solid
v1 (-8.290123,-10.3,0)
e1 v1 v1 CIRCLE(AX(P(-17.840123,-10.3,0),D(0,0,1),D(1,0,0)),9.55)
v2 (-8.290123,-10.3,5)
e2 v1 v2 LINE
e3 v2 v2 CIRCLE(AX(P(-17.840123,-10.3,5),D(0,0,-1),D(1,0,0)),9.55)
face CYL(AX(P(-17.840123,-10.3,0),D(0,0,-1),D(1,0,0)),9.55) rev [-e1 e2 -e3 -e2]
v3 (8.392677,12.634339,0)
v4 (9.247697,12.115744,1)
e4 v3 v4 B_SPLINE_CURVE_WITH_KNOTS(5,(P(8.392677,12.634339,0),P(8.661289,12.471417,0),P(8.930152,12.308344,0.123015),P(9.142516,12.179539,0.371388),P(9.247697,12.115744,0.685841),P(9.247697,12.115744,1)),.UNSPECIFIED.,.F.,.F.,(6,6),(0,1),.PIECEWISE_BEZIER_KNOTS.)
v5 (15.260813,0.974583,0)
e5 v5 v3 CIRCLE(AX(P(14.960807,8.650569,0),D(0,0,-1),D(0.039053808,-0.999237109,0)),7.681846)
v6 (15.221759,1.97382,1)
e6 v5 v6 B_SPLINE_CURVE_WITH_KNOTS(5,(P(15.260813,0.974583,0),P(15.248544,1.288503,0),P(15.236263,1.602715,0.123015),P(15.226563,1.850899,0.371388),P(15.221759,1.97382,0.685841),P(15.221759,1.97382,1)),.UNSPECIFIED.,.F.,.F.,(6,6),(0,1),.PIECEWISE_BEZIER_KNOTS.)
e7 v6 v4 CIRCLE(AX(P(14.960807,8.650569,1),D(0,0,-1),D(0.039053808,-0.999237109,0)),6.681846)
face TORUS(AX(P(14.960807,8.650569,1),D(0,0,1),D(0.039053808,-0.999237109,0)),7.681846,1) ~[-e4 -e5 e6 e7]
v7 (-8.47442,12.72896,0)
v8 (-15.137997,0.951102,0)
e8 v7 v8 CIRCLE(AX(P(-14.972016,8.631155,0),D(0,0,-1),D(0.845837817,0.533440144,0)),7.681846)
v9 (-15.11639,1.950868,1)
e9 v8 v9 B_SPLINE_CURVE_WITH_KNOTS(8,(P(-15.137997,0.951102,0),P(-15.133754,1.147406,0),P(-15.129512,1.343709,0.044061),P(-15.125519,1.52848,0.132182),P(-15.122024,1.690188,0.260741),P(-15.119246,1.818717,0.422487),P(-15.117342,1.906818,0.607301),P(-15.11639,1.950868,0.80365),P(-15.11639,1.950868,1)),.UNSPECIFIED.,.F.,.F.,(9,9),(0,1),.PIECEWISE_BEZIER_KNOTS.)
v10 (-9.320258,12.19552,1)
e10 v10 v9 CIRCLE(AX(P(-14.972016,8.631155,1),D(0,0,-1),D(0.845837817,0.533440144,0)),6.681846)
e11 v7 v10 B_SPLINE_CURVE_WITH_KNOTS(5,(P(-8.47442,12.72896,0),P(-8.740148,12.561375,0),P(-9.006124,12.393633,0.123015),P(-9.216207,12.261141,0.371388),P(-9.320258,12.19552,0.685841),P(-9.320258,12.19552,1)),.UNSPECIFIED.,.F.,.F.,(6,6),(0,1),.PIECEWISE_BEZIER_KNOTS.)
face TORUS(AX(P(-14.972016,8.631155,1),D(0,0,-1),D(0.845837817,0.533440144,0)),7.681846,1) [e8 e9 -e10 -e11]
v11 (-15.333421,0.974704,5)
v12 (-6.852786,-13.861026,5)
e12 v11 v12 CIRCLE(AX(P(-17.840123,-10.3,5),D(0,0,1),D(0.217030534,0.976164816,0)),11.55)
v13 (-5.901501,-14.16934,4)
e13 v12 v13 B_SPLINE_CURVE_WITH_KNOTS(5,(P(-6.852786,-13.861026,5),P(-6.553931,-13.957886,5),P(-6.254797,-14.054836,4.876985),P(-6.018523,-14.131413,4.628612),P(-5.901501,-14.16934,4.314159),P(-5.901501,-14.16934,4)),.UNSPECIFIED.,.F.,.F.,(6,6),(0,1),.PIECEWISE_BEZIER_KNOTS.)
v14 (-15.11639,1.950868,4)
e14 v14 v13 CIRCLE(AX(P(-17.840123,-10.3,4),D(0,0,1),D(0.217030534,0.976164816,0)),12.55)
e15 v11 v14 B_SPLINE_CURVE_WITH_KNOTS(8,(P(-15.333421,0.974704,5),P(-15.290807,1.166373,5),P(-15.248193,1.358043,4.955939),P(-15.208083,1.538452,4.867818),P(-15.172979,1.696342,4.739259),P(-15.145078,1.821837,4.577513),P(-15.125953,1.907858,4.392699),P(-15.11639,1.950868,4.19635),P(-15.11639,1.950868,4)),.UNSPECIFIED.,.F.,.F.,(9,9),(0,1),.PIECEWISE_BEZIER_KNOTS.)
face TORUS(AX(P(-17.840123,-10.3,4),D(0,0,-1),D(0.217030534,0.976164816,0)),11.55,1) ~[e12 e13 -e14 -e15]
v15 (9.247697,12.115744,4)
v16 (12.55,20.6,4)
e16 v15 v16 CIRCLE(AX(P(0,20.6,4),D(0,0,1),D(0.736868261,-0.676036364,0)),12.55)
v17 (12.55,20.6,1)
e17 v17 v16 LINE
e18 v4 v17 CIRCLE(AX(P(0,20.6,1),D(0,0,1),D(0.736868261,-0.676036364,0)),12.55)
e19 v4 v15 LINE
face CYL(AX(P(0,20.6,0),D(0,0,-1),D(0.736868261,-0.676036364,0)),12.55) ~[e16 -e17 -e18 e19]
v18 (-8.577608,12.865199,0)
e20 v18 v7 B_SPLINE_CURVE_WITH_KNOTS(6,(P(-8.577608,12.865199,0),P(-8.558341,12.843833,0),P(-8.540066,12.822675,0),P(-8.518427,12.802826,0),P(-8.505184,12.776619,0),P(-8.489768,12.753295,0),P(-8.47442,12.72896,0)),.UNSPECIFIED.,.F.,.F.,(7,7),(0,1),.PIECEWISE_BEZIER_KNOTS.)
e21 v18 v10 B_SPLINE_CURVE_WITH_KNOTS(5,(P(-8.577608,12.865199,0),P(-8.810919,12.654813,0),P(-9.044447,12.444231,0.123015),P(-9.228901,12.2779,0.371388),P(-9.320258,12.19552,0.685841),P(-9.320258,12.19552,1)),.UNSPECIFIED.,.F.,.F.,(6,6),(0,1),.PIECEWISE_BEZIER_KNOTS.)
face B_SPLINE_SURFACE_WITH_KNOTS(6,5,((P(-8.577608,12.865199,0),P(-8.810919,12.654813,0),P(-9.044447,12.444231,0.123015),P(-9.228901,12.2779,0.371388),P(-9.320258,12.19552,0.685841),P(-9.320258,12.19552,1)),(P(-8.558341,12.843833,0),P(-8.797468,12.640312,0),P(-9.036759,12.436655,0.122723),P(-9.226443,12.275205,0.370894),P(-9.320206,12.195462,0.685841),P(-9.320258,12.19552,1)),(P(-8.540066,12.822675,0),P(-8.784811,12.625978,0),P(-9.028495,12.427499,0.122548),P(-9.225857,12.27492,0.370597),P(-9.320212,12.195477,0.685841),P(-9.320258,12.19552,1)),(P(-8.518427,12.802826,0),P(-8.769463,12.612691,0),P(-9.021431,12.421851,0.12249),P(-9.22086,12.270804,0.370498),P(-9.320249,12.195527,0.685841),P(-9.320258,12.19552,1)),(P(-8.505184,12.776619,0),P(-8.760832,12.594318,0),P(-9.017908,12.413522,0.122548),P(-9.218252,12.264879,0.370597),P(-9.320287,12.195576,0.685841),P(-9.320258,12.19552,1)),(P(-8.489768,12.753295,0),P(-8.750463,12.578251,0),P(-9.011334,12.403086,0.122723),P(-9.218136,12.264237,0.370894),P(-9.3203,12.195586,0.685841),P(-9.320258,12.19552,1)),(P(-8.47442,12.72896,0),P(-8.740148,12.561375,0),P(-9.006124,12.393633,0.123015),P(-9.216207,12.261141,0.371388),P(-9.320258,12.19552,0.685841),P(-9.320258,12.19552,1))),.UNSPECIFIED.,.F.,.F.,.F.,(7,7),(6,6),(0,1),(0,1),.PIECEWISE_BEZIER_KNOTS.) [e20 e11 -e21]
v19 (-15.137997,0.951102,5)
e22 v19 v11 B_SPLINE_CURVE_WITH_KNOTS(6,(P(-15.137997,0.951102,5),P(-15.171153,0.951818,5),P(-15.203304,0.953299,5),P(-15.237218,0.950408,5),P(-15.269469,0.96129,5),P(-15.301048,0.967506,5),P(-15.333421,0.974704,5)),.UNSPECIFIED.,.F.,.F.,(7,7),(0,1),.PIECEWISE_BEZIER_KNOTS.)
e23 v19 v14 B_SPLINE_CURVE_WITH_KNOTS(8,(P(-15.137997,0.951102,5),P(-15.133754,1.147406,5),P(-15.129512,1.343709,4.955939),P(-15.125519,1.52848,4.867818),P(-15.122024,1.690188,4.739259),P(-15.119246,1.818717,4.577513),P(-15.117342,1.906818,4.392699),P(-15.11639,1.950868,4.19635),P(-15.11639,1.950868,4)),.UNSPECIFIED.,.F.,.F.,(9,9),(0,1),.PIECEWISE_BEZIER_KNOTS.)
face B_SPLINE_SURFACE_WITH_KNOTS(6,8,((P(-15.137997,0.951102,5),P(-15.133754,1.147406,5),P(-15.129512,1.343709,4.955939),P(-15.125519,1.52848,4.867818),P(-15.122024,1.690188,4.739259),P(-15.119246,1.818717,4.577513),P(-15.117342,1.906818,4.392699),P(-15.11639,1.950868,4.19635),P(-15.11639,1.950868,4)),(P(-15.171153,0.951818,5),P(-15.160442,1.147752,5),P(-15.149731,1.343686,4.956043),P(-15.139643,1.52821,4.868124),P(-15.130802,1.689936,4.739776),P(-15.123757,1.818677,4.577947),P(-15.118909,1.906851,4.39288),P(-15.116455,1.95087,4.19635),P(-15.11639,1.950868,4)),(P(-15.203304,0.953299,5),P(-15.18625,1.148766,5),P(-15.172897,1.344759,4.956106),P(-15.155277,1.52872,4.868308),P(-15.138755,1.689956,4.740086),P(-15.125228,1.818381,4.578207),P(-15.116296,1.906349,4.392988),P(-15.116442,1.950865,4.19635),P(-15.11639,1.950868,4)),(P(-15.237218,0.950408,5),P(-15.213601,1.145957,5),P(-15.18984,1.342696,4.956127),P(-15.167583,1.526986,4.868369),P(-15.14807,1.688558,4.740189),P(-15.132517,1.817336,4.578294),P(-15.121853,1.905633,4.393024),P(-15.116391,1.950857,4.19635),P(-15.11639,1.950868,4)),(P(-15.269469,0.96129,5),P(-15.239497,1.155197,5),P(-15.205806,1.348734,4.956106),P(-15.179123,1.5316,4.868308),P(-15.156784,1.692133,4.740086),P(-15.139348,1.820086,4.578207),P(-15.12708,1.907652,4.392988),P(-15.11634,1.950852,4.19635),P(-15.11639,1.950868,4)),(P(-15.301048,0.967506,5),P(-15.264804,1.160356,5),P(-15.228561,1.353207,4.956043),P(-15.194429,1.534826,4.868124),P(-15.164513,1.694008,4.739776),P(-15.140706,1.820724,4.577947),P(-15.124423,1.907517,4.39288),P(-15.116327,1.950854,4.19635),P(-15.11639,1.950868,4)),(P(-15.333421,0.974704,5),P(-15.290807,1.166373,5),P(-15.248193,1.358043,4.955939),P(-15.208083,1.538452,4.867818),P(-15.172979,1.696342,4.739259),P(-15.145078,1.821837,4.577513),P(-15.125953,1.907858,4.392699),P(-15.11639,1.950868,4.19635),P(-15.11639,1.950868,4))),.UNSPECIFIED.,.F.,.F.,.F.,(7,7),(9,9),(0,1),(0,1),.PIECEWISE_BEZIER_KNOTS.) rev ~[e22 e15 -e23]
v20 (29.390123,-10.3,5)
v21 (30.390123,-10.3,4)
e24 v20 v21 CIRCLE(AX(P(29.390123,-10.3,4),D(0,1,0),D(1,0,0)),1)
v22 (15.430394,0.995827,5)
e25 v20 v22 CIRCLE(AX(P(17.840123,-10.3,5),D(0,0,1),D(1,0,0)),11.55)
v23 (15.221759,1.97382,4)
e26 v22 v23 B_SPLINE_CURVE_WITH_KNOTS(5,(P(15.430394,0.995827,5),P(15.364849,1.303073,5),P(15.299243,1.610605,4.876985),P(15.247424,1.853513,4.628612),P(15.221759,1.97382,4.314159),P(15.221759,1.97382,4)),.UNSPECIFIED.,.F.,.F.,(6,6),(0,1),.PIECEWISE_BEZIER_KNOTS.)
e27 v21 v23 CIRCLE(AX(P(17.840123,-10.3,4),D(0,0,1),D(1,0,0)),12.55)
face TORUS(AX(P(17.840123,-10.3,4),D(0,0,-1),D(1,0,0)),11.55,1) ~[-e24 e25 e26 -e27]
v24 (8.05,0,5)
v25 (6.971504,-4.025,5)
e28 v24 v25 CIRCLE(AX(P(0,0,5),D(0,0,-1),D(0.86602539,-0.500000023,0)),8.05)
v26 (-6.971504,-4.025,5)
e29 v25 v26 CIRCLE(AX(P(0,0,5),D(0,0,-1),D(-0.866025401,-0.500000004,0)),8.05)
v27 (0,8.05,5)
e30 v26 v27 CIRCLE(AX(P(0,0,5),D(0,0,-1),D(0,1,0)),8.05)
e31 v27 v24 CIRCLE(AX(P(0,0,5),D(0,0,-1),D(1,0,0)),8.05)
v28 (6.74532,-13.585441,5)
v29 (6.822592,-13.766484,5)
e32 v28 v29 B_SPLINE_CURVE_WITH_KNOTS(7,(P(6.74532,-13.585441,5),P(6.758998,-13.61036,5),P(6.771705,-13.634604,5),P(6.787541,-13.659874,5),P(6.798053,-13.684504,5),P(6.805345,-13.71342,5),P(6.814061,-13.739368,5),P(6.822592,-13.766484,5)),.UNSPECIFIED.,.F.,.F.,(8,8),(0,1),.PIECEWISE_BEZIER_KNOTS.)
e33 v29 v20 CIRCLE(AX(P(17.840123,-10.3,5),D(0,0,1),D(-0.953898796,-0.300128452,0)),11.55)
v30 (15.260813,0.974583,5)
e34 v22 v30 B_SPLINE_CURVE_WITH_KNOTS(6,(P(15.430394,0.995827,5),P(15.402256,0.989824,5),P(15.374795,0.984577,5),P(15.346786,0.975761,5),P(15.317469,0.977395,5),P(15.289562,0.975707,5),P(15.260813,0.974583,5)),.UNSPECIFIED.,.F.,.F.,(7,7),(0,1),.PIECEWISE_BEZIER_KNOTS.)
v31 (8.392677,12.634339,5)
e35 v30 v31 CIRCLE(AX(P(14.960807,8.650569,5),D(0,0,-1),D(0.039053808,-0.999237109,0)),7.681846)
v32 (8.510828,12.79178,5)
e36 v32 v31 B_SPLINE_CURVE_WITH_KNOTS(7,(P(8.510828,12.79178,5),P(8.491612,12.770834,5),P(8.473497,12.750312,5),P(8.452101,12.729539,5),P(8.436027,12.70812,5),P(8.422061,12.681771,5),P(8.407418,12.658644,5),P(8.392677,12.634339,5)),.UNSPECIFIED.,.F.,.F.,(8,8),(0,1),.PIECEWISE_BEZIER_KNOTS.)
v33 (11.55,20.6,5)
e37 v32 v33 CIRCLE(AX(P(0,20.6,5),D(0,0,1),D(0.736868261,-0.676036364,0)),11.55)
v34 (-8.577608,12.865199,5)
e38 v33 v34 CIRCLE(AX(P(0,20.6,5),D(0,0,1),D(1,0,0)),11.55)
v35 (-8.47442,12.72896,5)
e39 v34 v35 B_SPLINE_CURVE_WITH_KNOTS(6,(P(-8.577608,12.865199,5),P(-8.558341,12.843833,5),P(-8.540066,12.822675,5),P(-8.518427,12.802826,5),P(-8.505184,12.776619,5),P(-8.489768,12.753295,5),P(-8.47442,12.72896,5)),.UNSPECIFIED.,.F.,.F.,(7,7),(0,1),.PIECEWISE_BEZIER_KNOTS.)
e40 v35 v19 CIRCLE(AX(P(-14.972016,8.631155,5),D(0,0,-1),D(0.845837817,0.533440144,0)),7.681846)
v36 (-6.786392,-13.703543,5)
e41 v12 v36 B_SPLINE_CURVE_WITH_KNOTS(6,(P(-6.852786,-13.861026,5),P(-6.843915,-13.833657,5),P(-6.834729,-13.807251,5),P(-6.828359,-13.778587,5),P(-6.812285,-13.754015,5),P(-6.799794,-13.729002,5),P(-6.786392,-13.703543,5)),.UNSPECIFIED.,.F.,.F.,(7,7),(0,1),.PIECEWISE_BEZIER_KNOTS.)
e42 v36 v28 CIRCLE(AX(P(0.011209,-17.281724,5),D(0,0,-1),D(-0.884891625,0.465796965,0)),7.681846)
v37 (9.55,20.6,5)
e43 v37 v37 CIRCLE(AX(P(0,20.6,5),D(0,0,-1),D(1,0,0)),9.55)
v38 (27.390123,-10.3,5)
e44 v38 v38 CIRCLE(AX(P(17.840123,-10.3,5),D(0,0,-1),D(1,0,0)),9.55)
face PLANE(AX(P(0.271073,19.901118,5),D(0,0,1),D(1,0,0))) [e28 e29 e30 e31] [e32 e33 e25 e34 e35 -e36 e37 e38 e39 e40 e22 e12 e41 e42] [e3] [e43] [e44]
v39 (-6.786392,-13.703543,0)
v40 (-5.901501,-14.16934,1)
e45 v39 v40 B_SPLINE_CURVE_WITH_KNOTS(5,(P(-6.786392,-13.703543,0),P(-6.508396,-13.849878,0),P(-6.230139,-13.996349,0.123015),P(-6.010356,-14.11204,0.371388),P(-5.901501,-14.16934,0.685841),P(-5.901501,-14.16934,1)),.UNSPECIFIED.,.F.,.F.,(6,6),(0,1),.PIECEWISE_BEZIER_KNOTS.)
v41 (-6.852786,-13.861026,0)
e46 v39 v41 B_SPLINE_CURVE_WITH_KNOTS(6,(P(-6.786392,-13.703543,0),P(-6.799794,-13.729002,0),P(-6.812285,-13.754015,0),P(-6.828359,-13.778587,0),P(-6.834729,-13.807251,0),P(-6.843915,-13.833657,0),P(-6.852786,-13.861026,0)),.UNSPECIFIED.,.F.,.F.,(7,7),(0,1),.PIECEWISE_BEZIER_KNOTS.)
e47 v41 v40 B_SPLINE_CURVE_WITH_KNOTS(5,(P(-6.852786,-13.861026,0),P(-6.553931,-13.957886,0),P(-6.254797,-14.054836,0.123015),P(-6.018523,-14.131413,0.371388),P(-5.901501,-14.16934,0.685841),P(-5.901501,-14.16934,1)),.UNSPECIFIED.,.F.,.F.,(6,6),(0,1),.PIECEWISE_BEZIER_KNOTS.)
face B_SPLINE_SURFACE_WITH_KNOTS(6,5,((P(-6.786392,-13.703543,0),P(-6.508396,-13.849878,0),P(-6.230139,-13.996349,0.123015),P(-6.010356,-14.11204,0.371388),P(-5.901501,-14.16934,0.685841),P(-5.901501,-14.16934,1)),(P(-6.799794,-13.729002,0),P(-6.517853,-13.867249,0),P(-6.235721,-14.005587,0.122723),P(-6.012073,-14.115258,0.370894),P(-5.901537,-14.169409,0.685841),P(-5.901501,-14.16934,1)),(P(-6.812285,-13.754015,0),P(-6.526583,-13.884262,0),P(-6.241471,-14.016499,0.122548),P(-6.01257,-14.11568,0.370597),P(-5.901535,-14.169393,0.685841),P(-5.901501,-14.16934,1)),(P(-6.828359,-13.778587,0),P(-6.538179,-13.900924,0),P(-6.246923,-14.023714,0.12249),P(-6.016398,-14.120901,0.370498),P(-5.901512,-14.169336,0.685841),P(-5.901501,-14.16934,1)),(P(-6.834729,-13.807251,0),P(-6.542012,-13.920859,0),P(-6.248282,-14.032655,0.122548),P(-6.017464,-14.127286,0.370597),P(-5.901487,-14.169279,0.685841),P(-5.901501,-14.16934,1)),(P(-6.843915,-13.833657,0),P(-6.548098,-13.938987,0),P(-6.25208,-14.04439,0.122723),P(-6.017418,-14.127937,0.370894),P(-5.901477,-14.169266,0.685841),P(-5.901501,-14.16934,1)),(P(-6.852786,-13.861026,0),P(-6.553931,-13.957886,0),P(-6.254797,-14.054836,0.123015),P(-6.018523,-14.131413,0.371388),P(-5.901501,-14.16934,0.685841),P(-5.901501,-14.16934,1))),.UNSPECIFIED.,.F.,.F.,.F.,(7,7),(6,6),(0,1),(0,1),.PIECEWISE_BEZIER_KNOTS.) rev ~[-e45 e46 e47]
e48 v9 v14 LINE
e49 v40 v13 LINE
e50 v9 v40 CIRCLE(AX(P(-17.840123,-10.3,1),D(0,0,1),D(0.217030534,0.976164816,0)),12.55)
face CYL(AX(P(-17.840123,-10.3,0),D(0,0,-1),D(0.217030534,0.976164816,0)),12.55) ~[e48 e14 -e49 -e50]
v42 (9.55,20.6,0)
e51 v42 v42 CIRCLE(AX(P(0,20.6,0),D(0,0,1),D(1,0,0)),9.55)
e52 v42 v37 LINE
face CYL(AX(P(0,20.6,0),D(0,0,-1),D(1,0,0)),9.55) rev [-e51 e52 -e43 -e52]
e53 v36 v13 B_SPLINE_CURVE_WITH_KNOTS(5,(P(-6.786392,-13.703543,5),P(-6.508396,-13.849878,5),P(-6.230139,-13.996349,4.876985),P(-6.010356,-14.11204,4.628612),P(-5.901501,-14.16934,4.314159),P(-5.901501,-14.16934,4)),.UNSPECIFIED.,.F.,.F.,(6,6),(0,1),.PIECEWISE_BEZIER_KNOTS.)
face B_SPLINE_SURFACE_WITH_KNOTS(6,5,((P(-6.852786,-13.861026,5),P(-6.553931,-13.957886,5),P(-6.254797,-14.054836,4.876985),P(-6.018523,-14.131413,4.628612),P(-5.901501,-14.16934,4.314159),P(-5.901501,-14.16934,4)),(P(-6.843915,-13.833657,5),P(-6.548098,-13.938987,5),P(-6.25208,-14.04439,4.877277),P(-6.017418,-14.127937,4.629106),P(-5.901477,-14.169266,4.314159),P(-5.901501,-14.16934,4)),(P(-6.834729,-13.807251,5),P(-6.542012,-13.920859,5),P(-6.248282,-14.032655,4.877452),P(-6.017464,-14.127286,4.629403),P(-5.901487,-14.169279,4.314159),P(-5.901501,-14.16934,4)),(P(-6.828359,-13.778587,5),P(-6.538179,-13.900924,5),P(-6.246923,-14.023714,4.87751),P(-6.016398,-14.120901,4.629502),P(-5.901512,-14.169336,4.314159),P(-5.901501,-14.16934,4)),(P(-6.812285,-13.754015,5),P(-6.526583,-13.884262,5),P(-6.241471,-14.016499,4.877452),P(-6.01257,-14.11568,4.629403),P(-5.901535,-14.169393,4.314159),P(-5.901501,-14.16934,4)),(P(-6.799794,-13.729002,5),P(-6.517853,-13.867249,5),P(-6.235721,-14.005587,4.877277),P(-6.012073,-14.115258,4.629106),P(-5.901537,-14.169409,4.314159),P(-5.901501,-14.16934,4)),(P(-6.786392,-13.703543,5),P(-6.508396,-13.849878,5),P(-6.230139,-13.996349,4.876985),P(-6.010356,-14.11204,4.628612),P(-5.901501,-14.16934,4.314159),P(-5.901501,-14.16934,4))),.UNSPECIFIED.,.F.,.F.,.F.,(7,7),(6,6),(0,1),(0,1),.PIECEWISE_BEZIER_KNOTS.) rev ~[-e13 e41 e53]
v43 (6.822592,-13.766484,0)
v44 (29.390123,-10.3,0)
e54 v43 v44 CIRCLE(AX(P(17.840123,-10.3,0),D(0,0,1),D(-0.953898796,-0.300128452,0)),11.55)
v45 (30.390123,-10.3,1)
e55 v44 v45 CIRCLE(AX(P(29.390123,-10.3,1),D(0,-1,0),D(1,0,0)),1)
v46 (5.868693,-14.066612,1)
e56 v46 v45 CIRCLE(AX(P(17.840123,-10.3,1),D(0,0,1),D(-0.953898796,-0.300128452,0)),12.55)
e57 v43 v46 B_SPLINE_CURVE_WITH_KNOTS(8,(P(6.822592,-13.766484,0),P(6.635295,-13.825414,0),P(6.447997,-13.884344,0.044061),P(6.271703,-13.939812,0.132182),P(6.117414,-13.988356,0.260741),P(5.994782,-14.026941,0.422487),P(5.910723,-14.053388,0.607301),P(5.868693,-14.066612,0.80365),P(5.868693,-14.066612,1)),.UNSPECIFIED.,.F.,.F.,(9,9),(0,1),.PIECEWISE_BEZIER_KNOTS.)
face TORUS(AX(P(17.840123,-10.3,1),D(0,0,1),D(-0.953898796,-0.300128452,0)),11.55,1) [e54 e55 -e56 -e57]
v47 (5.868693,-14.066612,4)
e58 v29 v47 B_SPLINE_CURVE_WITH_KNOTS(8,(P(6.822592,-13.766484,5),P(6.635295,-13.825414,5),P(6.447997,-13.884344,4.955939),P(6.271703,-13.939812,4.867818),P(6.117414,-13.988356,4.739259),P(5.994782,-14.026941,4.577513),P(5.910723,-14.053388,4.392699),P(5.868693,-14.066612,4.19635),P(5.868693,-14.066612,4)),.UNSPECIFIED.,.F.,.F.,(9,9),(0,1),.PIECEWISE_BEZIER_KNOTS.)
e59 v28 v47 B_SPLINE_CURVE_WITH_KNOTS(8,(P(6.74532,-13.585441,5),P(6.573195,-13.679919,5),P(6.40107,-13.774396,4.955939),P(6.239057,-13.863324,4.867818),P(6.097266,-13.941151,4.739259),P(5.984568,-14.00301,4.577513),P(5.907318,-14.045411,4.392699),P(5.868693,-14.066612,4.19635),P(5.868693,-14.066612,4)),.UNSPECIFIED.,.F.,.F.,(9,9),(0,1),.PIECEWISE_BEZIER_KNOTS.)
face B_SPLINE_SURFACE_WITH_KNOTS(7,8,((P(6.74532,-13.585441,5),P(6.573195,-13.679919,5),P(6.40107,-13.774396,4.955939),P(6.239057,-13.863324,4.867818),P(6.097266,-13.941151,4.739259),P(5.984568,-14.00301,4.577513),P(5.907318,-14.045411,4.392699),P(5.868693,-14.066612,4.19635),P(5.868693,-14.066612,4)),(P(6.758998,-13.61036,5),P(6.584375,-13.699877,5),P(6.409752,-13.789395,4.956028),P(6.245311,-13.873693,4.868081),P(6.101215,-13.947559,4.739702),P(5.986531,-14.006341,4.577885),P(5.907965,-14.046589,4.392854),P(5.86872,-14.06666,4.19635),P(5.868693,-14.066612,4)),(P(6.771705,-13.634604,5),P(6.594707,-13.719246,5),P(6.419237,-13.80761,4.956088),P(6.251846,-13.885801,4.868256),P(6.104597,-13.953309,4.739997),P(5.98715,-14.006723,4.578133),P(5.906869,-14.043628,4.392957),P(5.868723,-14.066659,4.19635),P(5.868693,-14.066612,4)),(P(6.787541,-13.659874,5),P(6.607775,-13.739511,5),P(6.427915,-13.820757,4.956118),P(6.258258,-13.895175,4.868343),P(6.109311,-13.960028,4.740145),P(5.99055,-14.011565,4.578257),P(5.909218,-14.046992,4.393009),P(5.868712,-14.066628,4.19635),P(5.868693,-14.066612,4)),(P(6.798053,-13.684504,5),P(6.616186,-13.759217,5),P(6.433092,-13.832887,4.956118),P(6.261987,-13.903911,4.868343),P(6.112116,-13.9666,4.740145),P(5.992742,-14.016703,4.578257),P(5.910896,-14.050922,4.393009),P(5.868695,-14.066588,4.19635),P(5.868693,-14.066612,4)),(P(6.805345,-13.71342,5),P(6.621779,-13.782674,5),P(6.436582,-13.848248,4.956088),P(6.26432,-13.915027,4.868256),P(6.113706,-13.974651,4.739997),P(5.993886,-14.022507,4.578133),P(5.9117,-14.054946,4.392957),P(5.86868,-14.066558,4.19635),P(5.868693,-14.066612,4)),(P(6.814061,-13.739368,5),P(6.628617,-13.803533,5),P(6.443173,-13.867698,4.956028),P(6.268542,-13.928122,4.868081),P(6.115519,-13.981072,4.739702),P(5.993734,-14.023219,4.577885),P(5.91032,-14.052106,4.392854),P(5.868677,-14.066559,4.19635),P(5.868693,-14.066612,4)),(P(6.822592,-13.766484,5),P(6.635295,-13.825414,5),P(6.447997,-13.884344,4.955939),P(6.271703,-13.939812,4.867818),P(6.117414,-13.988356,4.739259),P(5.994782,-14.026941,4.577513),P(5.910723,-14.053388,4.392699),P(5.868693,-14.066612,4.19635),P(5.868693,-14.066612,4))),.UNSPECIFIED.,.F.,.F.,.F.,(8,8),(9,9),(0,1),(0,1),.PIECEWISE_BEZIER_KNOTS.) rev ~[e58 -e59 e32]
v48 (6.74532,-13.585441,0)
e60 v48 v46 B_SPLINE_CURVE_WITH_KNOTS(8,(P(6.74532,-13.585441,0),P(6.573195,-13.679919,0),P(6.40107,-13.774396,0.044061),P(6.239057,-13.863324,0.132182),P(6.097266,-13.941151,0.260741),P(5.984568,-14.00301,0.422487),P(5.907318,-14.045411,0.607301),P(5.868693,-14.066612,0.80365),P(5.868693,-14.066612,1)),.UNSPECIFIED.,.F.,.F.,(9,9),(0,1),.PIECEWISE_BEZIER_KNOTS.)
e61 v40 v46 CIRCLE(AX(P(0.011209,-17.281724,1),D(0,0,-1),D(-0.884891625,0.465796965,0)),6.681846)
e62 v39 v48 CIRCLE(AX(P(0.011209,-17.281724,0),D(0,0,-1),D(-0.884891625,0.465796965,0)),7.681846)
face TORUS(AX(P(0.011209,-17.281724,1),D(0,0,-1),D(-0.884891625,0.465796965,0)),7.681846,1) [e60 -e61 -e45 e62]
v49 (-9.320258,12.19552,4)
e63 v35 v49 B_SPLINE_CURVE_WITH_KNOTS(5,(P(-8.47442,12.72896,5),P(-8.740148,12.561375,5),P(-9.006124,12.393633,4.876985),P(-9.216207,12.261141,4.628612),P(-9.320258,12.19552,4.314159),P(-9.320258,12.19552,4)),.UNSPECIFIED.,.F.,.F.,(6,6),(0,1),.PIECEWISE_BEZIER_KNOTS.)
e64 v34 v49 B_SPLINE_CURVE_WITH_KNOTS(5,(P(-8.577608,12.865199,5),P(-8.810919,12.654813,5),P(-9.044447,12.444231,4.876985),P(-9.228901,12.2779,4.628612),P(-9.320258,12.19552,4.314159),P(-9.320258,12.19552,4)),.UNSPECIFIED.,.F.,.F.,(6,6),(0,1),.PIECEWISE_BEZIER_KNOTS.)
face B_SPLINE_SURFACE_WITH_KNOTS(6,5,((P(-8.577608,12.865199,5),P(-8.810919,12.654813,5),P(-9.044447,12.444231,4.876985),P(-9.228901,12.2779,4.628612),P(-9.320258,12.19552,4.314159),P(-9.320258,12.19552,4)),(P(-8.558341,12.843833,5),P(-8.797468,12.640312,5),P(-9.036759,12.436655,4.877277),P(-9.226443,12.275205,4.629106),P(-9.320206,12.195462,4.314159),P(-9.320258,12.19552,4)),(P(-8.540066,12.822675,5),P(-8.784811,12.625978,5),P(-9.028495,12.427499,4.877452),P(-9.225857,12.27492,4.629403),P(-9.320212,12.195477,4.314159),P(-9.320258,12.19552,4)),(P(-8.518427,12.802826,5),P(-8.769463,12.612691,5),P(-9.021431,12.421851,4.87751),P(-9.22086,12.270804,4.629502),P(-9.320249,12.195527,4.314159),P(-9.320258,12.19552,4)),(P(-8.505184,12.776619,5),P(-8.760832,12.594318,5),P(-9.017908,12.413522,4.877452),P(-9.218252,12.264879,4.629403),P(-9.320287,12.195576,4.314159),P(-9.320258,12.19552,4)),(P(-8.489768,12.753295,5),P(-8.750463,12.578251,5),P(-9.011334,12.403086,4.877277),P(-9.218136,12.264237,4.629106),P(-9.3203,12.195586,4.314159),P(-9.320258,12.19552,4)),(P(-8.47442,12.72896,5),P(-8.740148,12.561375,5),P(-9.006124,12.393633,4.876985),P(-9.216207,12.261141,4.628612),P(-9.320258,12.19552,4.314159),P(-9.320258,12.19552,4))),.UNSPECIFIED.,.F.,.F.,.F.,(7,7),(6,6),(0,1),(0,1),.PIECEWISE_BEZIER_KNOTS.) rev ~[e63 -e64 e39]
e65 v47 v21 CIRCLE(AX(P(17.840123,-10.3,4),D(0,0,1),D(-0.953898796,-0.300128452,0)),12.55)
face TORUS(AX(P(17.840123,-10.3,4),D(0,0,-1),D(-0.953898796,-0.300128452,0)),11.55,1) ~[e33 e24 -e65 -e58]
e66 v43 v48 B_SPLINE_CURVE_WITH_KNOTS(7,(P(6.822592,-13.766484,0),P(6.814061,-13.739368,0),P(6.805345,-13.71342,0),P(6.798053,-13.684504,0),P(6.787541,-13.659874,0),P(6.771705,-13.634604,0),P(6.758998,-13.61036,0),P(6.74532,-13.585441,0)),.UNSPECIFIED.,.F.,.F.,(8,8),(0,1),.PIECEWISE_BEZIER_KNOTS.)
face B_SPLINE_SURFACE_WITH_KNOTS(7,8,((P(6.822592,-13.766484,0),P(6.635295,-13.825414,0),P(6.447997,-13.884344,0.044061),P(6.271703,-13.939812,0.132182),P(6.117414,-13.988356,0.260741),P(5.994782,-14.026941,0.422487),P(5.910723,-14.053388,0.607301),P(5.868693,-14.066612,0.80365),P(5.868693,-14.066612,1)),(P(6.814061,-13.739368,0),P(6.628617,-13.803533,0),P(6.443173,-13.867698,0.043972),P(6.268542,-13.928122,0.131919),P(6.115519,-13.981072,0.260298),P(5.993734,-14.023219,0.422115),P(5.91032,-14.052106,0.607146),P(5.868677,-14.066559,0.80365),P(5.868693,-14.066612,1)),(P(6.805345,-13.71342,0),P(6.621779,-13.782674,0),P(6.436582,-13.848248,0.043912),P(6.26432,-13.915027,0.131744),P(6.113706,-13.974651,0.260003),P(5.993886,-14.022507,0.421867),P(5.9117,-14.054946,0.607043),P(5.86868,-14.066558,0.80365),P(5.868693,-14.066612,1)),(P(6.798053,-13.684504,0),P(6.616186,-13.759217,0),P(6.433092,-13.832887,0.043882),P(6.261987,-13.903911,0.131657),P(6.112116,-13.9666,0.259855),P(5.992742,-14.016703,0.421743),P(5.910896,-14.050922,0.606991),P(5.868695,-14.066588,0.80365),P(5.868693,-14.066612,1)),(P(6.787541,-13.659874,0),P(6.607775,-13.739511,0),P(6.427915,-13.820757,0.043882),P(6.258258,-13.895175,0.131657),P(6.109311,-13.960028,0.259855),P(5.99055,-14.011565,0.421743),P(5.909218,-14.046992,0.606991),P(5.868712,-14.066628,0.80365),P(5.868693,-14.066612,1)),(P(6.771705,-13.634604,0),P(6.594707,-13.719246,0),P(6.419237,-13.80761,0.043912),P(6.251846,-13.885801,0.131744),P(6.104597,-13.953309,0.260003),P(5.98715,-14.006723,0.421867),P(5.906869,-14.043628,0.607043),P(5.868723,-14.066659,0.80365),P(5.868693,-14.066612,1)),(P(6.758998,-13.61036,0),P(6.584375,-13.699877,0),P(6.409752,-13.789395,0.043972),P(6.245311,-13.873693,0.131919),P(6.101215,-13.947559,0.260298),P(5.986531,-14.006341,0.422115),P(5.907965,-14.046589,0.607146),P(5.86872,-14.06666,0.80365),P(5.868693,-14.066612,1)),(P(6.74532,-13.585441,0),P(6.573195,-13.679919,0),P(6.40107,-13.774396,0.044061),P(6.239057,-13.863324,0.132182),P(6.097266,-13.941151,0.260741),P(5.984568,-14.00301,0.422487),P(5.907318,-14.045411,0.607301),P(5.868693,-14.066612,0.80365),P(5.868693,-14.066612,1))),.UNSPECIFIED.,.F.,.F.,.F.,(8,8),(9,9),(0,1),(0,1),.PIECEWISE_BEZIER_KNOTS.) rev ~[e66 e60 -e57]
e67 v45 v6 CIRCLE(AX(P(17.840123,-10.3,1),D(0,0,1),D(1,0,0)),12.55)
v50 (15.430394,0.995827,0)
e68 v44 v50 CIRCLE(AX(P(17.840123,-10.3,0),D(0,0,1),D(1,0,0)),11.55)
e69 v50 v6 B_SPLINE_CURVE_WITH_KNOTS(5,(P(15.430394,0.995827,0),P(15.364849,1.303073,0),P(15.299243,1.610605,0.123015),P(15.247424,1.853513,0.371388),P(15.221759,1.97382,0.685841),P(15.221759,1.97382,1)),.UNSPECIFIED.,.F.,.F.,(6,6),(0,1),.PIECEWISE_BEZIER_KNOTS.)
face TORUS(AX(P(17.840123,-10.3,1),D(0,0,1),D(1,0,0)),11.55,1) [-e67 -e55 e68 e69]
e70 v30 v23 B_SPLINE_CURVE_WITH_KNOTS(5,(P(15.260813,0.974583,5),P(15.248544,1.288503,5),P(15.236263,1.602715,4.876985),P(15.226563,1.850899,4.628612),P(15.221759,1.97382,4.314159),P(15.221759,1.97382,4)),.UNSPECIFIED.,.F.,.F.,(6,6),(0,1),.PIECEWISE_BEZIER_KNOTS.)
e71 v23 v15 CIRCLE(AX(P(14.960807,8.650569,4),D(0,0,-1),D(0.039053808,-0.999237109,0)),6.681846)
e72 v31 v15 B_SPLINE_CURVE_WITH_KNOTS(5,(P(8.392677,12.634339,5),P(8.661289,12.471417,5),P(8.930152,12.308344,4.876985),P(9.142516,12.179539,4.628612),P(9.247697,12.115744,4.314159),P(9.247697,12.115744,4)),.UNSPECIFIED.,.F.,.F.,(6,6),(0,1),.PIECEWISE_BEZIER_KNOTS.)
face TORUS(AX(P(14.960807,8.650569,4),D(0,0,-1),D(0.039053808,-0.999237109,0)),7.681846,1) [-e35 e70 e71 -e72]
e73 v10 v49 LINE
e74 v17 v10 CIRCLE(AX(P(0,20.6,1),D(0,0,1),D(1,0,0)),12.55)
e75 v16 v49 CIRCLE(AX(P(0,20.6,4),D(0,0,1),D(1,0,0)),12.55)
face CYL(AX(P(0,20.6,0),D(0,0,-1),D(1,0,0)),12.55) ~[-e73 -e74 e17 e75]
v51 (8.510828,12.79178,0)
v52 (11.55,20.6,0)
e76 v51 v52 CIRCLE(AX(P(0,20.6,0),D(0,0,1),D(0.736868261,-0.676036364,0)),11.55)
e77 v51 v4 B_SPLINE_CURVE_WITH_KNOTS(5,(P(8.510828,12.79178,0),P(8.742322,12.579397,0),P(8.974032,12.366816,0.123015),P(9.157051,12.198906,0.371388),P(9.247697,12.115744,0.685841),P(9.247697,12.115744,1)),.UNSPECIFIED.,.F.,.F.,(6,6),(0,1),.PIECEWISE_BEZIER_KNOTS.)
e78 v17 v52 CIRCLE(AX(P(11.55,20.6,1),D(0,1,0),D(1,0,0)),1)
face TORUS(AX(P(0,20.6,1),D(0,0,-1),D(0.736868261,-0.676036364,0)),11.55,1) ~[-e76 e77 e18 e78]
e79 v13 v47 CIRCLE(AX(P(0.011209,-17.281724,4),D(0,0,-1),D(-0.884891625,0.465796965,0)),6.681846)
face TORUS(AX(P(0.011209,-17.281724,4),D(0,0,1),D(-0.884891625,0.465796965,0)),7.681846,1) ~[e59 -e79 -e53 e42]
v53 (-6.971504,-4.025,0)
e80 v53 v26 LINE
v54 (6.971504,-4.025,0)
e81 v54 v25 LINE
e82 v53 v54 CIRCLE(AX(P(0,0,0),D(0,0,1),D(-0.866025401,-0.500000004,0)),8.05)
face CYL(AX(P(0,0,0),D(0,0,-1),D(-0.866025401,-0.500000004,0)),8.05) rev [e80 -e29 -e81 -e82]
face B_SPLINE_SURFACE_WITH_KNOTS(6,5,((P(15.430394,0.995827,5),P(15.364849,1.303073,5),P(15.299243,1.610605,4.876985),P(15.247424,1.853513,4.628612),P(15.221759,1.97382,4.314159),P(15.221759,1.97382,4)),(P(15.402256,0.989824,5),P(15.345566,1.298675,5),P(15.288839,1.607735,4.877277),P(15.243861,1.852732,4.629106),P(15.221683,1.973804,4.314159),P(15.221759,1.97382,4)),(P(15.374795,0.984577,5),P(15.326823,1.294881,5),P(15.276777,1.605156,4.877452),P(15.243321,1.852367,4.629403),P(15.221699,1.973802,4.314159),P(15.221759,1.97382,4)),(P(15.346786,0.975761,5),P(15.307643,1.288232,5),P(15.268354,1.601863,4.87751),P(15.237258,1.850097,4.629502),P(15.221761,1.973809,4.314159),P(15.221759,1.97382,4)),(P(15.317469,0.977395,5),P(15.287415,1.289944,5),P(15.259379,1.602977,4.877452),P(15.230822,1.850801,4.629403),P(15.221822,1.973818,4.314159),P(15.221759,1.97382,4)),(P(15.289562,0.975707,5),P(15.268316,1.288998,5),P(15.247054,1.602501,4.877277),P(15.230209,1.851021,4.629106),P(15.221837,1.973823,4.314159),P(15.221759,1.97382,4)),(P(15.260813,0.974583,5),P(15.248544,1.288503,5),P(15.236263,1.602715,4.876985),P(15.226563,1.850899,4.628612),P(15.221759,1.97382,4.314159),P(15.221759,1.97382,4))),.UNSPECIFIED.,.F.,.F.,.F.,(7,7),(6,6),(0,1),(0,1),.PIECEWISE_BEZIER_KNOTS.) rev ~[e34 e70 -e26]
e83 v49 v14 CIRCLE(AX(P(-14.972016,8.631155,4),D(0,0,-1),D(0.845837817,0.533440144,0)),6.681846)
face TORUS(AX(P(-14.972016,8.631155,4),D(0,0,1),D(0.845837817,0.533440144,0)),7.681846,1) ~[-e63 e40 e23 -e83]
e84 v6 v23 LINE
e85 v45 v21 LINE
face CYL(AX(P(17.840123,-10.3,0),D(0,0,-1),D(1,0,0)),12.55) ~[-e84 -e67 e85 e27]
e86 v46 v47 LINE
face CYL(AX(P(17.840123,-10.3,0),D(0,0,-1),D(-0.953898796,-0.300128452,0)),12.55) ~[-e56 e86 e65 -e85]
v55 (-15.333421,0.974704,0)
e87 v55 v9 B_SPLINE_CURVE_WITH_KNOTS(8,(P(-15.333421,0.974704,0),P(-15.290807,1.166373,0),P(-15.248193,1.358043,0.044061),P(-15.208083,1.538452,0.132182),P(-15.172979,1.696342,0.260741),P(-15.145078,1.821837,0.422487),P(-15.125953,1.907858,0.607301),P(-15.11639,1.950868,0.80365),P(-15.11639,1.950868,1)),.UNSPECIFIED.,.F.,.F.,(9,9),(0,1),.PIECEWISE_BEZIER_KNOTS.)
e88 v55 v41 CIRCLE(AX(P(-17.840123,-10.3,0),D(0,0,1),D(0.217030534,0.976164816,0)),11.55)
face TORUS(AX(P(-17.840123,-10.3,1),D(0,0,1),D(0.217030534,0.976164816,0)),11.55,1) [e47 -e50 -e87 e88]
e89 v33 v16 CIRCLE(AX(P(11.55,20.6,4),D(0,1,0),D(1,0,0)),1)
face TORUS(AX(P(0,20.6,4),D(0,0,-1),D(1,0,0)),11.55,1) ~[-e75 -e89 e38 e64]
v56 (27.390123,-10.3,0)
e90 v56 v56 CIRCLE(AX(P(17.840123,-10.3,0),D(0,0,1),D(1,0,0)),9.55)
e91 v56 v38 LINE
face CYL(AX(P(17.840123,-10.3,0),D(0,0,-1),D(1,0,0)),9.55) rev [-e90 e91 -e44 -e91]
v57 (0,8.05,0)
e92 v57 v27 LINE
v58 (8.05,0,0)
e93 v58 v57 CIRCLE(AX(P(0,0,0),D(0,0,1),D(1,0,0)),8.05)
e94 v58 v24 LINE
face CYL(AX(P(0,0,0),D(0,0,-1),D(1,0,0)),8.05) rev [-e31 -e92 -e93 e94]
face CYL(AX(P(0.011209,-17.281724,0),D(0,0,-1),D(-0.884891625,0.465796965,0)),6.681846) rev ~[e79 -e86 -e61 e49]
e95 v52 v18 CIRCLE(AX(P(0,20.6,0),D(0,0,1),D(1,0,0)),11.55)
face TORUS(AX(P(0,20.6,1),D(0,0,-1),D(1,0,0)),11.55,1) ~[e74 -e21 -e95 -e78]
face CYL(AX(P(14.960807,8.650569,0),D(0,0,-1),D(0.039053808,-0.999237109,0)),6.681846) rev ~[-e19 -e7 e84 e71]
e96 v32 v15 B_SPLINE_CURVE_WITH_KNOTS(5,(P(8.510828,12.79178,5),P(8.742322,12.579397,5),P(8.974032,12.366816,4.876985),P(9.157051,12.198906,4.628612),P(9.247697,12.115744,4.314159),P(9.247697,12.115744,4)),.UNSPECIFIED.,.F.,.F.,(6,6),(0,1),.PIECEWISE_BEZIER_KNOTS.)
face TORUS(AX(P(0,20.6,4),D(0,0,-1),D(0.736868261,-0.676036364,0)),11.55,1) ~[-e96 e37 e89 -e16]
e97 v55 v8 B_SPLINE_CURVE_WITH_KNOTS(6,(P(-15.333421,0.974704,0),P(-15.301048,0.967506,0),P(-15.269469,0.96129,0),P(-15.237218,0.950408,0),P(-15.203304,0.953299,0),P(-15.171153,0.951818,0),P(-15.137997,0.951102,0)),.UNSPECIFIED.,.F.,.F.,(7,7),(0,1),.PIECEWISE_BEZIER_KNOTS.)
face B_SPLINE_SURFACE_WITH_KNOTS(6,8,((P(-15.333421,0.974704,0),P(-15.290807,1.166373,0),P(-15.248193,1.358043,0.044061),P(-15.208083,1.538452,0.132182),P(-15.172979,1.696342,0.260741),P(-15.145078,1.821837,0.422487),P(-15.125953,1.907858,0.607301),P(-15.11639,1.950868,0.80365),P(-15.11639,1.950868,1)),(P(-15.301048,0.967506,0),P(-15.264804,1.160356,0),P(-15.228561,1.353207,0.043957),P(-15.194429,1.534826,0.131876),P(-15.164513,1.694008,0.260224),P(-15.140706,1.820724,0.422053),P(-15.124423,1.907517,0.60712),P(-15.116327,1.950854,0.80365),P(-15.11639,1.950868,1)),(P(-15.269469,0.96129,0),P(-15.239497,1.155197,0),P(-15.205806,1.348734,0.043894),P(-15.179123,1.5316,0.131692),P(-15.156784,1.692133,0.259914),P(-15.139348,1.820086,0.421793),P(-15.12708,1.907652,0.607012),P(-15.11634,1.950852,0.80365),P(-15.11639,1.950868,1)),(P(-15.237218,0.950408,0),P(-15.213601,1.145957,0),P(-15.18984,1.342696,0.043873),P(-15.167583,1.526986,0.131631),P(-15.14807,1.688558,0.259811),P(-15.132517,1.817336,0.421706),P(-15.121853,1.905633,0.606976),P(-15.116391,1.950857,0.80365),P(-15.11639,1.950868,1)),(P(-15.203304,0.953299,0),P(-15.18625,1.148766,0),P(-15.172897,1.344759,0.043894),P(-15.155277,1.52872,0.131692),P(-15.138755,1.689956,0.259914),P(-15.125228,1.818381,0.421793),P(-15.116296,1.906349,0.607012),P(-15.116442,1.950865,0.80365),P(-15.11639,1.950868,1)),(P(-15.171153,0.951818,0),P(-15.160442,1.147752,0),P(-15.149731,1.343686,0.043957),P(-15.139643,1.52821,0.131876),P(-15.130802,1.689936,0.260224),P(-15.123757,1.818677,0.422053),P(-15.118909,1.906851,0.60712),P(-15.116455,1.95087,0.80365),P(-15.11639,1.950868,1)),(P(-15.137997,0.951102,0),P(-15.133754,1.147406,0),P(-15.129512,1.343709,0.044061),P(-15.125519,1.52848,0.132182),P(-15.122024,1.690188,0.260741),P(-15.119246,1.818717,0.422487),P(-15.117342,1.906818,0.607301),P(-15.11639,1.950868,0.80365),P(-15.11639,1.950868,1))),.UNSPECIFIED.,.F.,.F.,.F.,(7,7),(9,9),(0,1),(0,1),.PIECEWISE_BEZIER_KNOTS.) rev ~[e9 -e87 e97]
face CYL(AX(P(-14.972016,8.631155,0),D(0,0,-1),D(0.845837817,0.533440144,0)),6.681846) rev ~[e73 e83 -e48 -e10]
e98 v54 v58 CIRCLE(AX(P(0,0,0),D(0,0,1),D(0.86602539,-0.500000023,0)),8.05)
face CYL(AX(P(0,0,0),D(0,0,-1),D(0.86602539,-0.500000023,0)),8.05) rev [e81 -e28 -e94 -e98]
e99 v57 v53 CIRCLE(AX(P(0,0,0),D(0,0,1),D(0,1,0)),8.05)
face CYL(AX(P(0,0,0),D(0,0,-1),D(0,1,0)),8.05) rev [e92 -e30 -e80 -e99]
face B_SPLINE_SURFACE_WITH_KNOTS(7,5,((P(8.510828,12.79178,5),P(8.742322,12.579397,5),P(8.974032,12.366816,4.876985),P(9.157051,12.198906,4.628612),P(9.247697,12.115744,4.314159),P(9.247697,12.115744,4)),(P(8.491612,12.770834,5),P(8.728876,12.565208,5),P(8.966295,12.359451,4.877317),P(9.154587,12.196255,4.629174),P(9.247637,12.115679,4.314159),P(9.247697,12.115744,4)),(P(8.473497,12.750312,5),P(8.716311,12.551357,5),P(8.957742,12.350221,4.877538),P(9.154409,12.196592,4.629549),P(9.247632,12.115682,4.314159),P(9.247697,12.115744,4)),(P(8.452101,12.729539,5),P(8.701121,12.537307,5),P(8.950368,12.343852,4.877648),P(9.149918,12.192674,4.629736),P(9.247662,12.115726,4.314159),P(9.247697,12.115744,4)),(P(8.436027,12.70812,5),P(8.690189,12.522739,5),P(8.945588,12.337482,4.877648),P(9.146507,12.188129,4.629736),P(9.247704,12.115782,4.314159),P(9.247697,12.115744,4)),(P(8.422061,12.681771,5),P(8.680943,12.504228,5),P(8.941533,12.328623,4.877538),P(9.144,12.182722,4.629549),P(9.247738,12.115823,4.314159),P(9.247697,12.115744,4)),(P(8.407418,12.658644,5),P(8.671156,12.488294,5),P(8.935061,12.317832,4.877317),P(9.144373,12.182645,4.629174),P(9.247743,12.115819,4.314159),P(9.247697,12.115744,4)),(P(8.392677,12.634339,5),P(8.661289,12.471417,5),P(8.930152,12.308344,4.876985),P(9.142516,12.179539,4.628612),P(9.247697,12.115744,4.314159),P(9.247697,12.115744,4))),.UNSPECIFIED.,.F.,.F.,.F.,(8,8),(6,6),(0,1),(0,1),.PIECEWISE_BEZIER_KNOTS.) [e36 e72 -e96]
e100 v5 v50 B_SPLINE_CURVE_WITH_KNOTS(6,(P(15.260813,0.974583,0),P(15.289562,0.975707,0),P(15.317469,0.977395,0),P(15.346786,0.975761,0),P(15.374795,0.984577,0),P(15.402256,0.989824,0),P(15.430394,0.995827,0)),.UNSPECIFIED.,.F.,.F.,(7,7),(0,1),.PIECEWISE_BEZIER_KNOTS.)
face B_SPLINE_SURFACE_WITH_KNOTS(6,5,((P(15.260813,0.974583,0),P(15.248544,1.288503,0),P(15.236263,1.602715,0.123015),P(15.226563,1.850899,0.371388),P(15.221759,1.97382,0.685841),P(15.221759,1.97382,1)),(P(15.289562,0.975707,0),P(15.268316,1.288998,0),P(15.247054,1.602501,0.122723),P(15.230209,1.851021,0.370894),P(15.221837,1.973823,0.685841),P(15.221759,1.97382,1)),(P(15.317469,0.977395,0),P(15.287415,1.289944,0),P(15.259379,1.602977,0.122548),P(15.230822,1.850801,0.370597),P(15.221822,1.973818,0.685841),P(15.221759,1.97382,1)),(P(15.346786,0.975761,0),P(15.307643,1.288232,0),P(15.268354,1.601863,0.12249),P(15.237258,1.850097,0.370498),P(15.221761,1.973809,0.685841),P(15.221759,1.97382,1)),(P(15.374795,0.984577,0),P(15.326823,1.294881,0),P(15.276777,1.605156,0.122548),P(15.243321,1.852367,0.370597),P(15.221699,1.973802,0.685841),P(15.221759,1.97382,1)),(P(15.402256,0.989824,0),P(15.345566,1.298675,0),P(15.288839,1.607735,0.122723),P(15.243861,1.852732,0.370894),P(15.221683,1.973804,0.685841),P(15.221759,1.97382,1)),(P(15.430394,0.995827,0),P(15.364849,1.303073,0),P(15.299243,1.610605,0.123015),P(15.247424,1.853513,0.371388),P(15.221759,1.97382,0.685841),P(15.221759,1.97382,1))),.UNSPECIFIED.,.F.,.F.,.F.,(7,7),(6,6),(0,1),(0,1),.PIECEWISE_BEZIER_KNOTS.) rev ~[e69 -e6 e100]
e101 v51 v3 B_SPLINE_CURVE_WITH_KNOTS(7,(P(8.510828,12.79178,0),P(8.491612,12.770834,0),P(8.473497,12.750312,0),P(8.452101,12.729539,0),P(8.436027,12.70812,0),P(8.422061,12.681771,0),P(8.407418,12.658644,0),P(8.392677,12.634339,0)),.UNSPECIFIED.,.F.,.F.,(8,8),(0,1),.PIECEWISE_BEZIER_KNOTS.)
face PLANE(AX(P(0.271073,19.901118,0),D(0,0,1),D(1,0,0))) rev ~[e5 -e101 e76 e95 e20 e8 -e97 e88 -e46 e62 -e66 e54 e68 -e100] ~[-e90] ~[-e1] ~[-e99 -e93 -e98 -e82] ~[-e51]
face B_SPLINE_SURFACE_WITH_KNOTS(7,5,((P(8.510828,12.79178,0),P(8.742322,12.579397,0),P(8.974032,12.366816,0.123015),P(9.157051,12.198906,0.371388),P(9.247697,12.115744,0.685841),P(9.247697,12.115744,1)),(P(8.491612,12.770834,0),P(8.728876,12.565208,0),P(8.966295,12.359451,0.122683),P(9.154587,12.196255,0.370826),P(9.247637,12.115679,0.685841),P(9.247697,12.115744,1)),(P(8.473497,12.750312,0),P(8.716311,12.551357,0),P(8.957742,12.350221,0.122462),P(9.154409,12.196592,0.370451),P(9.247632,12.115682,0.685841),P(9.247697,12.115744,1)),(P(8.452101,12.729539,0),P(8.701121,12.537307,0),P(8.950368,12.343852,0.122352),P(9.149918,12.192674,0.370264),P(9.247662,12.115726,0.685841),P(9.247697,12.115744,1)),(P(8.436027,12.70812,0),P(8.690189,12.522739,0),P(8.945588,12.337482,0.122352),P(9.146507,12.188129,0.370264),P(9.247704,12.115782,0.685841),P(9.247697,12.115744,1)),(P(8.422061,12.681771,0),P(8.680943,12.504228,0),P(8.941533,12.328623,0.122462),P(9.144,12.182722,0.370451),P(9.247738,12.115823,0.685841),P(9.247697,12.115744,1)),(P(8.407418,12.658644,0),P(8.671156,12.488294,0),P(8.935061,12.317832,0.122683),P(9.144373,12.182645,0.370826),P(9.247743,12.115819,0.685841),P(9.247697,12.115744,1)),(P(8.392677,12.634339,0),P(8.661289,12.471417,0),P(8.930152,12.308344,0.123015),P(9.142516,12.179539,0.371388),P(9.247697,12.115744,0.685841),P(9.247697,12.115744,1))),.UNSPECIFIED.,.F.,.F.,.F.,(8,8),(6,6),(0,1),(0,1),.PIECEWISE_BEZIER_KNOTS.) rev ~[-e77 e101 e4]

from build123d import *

# Parameters (mm, degrees)
F0_R     = 9.55
F1_DEPTH = 5
F2_DEPTH = 25
F3_R     = 1


with BuildPart() as f1:
    # F0 (on Top) → F1 (new body)
    with BuildSketch(Plane.XY):
        with BuildLine():
            ThreePointArc((-9.3202581608, 12.1955197771), (-5.1003075024, 9.1331188468), (-3.8e-09, 8.05))
            ThreePointArc((-3.8e-09, 8.05), (5.0509940874, 9.1113117055), (9.2476966795, 12.1157436316))
            ThreePointArc((9.2476966795, 12.1157436316), (11.6953215716, 16.0478627727), (12.55, 20.6))
            ThreePointArc((12.55, 20.6), (-4.5018474031, 32.3147714429), (-9.3202581608, 12.1955197771))
        make_face()
        with Locations((0, 20.6)):
            Circle(F0_R, mode=Mode.SUBTRACT)
        with BuildLine():
            ThreePointArc((-5.290123318, -10.3), (-5.7177541932, -7.051821002), (-6.9715044818, -4.0250000323))
            ThreePointArc((-6.9715044818, -4.0250000323), (-10.4161244289, -0.1813666686), (-15.1163901104, 1.9508684351))
            ThreePointArc((-15.1163901104, 1.9508684351), (-28.7356017489, -16.5282461224), (-5.901500859, -14.1693402256))
            ThreePointArc((-5.901500859, -14.1693402256), (-5.4439099473, -12.2586715064), (-5.290123318, -10.3))
        make_face()
        with Locations((-17.840123318, -10.3)):
            Circle(F0_R, mode=Mode.SUBTRACT)
        with BuildLine():
            ThreePointArc((15.2217590198, 1.9738204485), (10.4596665987, -0.1495636244), (6.9715043915, -4.0250001888))
            ThreePointArc((6.9715043915, -4.0250001888), (5.3651303429, -8.929945157), (5.868693431, -14.0666120667))
            ThreePointArc((5.868693431, -14.0666120667), (19.7455176234, -22.7045142001), (30.390123318, -10.3))
            ThreePointArc((30.390123318, -10.3), (25.7344892855, -0.5439000635), (15.2217590198, 1.9738204485))
        make_face()
        with Locations((17.840123318, -10.3)):
            Circle(F0_R, mode=Mode.SUBTRACT)
        with Locations((17.840123318, -10.3)):
            Circle(F0_R)
        with Locations((0, 20.6)):
            Circle(F0_R)
        with Locations((-17.840123318, -10.3)):
            Circle(F0_R)
        with BuildLine():
            ThreePointArc((6.9715043915, -4.0250001888), (7.7757028734, -2.0834934184), (8.05, 0))
            ThreePointArc((8.05, 0), (5.6922095872, 5.6922095899), (-3.8e-09, 8.05))
            ThreePointArc((-3.8e-09, 8.05), (-6.9715045107, 4.0249999822), (-6.9715044818, -4.0250000323))
            ThreePointArc((-6.9715044818, -4.0250000323), (-9.03e-08, -8.05), (6.9715043915, -4.0250001888))
        make_face()
        with BuildLine():
            ThreePointArc((-6.9715044818, -4.0250000323), (-6.9715045107, 4.0249999822), (-3.8e-09, 8.05))
            ThreePointArc((-3.8e-09, 8.05), (-5.1003075024, 9.1331188468), (-9.3202581608, 12.1955197771))
            ThreePointArc((-9.3202581608, 12.1955197771), (-9.1564303233, 5.3408617934), (-15.1163901104, 1.9508684351))
            ThreePointArc((-15.1163901104, 1.9508684351), (-10.4161244289, -0.1813666686), (-6.9715044818, -4.0250000323))
        make_face()
        with BuildLine():
            ThreePointArc((-3.8e-09, 8.05), (5.6922095872, 5.6922095899), (8.05, 0))
            ThreePointArc((8.05, 0), (7.7757028734, -2.0834934184), (6.9715043915, -4.0250001888))
            ThreePointArc((6.9715043915, -4.0250001888), (10.4596665987, -0.1495636244), (15.2217590198, 1.9738204485))
            ThreePointArc((15.2217590198, 1.9738204485), (9.2035371529, 5.2592703712), (9.2476966795, 12.1157436316))
            ThreePointArc((9.2476966795, 12.1157436316), (5.0509940874, 9.1113117055), (-3.8e-09, 8.05))
        make_face()
        with BuildLine():
            ThreePointArc((5.868693431, -14.0666120667), (5.3651303429, -8.929945157), (6.9715043915, -4.0250001888))
            ThreePointArc((6.9715043915, -4.0250001888), (-9.03e-08, -8.05), (-6.9715044818, -4.0250000323))
            ThreePointArc((-6.9715044818, -4.0250000323), (-5.7177541932, -7.051821002), (-5.290123318, -10.3))
            ThreePointArc((-5.290123318, -10.3), (-5.4439099473, -12.2586715064), (-5.901500859, -14.1693402256))
            ThreePointArc((-5.901500859, -14.1693402256), (-0.0471068296, -10.6001321647), (5.868693431, -14.0666120667))
        make_face()
    extrude(amount=F1_DEPTH)

    # F0 (on Top) → F2 (cut)
    with BuildSketch(Plane.XY):
        with Locations((-17.840123318, -10.3)):
            Circle(F0_R)
        with Locations((0, 20.6)):
            Circle(F0_R)
        with Locations((17.840123318, -10.3)):
            Circle(F0_R)
        with BuildLine():
            ThreePointArc((6.9715043915, -4.0250001888), (7.7757028734, -2.0834934184), (8.05, 0))
            ThreePointArc((8.05, 0), (5.6922095872, 5.6922095899), (-3.8e-09, 8.05))
            ThreePointArc((-3.8e-09, 8.05), (-6.9715045107, 4.0249999822), (-6.9715044818, -4.0250000323))
            ThreePointArc((-6.9715044818, -4.0250000323), (-9.03e-08, -8.05), (6.9715043915, -4.0250001888))
        make_face()
    extrude(amount=F2_DEPTH, mode=Mode.SUBTRACT)

    # F3 (call 1 of 2: OpenCascade refuses the feature's edges together)
    f3_edges = [f1.edges().sort_by_distance(p)[0] for p in [
        (0.05392, 33.149884, 0),
        (9.203537, 5.25927, 0),
        (28.681682, -16.621638, 0),
        (-0.047107, -10.600132, 0),
        (-28.735602, -16.528246, 0),
        (-9.15643, 5.340862, 0),
    ]]
    fillet(f3_edges, radius=F3_R)

    # F3#2 (call 2 of 2)
    f3_2_edges = [f1.edges().sort_by_distance(p)[0] for p in [
        (0.05392, 33.149884, 5),
        (-9.15643, 5.340862, 5),
        (-28.735602, -16.528246, 5),
        (-0.047107, -10.600132, 5),
        (28.681682, -16.621638, 5),
        (9.203537, 5.25927, 5),
    ]]
    fillet(f3_2_edges, radius=F3_R)


solid = f1.part
